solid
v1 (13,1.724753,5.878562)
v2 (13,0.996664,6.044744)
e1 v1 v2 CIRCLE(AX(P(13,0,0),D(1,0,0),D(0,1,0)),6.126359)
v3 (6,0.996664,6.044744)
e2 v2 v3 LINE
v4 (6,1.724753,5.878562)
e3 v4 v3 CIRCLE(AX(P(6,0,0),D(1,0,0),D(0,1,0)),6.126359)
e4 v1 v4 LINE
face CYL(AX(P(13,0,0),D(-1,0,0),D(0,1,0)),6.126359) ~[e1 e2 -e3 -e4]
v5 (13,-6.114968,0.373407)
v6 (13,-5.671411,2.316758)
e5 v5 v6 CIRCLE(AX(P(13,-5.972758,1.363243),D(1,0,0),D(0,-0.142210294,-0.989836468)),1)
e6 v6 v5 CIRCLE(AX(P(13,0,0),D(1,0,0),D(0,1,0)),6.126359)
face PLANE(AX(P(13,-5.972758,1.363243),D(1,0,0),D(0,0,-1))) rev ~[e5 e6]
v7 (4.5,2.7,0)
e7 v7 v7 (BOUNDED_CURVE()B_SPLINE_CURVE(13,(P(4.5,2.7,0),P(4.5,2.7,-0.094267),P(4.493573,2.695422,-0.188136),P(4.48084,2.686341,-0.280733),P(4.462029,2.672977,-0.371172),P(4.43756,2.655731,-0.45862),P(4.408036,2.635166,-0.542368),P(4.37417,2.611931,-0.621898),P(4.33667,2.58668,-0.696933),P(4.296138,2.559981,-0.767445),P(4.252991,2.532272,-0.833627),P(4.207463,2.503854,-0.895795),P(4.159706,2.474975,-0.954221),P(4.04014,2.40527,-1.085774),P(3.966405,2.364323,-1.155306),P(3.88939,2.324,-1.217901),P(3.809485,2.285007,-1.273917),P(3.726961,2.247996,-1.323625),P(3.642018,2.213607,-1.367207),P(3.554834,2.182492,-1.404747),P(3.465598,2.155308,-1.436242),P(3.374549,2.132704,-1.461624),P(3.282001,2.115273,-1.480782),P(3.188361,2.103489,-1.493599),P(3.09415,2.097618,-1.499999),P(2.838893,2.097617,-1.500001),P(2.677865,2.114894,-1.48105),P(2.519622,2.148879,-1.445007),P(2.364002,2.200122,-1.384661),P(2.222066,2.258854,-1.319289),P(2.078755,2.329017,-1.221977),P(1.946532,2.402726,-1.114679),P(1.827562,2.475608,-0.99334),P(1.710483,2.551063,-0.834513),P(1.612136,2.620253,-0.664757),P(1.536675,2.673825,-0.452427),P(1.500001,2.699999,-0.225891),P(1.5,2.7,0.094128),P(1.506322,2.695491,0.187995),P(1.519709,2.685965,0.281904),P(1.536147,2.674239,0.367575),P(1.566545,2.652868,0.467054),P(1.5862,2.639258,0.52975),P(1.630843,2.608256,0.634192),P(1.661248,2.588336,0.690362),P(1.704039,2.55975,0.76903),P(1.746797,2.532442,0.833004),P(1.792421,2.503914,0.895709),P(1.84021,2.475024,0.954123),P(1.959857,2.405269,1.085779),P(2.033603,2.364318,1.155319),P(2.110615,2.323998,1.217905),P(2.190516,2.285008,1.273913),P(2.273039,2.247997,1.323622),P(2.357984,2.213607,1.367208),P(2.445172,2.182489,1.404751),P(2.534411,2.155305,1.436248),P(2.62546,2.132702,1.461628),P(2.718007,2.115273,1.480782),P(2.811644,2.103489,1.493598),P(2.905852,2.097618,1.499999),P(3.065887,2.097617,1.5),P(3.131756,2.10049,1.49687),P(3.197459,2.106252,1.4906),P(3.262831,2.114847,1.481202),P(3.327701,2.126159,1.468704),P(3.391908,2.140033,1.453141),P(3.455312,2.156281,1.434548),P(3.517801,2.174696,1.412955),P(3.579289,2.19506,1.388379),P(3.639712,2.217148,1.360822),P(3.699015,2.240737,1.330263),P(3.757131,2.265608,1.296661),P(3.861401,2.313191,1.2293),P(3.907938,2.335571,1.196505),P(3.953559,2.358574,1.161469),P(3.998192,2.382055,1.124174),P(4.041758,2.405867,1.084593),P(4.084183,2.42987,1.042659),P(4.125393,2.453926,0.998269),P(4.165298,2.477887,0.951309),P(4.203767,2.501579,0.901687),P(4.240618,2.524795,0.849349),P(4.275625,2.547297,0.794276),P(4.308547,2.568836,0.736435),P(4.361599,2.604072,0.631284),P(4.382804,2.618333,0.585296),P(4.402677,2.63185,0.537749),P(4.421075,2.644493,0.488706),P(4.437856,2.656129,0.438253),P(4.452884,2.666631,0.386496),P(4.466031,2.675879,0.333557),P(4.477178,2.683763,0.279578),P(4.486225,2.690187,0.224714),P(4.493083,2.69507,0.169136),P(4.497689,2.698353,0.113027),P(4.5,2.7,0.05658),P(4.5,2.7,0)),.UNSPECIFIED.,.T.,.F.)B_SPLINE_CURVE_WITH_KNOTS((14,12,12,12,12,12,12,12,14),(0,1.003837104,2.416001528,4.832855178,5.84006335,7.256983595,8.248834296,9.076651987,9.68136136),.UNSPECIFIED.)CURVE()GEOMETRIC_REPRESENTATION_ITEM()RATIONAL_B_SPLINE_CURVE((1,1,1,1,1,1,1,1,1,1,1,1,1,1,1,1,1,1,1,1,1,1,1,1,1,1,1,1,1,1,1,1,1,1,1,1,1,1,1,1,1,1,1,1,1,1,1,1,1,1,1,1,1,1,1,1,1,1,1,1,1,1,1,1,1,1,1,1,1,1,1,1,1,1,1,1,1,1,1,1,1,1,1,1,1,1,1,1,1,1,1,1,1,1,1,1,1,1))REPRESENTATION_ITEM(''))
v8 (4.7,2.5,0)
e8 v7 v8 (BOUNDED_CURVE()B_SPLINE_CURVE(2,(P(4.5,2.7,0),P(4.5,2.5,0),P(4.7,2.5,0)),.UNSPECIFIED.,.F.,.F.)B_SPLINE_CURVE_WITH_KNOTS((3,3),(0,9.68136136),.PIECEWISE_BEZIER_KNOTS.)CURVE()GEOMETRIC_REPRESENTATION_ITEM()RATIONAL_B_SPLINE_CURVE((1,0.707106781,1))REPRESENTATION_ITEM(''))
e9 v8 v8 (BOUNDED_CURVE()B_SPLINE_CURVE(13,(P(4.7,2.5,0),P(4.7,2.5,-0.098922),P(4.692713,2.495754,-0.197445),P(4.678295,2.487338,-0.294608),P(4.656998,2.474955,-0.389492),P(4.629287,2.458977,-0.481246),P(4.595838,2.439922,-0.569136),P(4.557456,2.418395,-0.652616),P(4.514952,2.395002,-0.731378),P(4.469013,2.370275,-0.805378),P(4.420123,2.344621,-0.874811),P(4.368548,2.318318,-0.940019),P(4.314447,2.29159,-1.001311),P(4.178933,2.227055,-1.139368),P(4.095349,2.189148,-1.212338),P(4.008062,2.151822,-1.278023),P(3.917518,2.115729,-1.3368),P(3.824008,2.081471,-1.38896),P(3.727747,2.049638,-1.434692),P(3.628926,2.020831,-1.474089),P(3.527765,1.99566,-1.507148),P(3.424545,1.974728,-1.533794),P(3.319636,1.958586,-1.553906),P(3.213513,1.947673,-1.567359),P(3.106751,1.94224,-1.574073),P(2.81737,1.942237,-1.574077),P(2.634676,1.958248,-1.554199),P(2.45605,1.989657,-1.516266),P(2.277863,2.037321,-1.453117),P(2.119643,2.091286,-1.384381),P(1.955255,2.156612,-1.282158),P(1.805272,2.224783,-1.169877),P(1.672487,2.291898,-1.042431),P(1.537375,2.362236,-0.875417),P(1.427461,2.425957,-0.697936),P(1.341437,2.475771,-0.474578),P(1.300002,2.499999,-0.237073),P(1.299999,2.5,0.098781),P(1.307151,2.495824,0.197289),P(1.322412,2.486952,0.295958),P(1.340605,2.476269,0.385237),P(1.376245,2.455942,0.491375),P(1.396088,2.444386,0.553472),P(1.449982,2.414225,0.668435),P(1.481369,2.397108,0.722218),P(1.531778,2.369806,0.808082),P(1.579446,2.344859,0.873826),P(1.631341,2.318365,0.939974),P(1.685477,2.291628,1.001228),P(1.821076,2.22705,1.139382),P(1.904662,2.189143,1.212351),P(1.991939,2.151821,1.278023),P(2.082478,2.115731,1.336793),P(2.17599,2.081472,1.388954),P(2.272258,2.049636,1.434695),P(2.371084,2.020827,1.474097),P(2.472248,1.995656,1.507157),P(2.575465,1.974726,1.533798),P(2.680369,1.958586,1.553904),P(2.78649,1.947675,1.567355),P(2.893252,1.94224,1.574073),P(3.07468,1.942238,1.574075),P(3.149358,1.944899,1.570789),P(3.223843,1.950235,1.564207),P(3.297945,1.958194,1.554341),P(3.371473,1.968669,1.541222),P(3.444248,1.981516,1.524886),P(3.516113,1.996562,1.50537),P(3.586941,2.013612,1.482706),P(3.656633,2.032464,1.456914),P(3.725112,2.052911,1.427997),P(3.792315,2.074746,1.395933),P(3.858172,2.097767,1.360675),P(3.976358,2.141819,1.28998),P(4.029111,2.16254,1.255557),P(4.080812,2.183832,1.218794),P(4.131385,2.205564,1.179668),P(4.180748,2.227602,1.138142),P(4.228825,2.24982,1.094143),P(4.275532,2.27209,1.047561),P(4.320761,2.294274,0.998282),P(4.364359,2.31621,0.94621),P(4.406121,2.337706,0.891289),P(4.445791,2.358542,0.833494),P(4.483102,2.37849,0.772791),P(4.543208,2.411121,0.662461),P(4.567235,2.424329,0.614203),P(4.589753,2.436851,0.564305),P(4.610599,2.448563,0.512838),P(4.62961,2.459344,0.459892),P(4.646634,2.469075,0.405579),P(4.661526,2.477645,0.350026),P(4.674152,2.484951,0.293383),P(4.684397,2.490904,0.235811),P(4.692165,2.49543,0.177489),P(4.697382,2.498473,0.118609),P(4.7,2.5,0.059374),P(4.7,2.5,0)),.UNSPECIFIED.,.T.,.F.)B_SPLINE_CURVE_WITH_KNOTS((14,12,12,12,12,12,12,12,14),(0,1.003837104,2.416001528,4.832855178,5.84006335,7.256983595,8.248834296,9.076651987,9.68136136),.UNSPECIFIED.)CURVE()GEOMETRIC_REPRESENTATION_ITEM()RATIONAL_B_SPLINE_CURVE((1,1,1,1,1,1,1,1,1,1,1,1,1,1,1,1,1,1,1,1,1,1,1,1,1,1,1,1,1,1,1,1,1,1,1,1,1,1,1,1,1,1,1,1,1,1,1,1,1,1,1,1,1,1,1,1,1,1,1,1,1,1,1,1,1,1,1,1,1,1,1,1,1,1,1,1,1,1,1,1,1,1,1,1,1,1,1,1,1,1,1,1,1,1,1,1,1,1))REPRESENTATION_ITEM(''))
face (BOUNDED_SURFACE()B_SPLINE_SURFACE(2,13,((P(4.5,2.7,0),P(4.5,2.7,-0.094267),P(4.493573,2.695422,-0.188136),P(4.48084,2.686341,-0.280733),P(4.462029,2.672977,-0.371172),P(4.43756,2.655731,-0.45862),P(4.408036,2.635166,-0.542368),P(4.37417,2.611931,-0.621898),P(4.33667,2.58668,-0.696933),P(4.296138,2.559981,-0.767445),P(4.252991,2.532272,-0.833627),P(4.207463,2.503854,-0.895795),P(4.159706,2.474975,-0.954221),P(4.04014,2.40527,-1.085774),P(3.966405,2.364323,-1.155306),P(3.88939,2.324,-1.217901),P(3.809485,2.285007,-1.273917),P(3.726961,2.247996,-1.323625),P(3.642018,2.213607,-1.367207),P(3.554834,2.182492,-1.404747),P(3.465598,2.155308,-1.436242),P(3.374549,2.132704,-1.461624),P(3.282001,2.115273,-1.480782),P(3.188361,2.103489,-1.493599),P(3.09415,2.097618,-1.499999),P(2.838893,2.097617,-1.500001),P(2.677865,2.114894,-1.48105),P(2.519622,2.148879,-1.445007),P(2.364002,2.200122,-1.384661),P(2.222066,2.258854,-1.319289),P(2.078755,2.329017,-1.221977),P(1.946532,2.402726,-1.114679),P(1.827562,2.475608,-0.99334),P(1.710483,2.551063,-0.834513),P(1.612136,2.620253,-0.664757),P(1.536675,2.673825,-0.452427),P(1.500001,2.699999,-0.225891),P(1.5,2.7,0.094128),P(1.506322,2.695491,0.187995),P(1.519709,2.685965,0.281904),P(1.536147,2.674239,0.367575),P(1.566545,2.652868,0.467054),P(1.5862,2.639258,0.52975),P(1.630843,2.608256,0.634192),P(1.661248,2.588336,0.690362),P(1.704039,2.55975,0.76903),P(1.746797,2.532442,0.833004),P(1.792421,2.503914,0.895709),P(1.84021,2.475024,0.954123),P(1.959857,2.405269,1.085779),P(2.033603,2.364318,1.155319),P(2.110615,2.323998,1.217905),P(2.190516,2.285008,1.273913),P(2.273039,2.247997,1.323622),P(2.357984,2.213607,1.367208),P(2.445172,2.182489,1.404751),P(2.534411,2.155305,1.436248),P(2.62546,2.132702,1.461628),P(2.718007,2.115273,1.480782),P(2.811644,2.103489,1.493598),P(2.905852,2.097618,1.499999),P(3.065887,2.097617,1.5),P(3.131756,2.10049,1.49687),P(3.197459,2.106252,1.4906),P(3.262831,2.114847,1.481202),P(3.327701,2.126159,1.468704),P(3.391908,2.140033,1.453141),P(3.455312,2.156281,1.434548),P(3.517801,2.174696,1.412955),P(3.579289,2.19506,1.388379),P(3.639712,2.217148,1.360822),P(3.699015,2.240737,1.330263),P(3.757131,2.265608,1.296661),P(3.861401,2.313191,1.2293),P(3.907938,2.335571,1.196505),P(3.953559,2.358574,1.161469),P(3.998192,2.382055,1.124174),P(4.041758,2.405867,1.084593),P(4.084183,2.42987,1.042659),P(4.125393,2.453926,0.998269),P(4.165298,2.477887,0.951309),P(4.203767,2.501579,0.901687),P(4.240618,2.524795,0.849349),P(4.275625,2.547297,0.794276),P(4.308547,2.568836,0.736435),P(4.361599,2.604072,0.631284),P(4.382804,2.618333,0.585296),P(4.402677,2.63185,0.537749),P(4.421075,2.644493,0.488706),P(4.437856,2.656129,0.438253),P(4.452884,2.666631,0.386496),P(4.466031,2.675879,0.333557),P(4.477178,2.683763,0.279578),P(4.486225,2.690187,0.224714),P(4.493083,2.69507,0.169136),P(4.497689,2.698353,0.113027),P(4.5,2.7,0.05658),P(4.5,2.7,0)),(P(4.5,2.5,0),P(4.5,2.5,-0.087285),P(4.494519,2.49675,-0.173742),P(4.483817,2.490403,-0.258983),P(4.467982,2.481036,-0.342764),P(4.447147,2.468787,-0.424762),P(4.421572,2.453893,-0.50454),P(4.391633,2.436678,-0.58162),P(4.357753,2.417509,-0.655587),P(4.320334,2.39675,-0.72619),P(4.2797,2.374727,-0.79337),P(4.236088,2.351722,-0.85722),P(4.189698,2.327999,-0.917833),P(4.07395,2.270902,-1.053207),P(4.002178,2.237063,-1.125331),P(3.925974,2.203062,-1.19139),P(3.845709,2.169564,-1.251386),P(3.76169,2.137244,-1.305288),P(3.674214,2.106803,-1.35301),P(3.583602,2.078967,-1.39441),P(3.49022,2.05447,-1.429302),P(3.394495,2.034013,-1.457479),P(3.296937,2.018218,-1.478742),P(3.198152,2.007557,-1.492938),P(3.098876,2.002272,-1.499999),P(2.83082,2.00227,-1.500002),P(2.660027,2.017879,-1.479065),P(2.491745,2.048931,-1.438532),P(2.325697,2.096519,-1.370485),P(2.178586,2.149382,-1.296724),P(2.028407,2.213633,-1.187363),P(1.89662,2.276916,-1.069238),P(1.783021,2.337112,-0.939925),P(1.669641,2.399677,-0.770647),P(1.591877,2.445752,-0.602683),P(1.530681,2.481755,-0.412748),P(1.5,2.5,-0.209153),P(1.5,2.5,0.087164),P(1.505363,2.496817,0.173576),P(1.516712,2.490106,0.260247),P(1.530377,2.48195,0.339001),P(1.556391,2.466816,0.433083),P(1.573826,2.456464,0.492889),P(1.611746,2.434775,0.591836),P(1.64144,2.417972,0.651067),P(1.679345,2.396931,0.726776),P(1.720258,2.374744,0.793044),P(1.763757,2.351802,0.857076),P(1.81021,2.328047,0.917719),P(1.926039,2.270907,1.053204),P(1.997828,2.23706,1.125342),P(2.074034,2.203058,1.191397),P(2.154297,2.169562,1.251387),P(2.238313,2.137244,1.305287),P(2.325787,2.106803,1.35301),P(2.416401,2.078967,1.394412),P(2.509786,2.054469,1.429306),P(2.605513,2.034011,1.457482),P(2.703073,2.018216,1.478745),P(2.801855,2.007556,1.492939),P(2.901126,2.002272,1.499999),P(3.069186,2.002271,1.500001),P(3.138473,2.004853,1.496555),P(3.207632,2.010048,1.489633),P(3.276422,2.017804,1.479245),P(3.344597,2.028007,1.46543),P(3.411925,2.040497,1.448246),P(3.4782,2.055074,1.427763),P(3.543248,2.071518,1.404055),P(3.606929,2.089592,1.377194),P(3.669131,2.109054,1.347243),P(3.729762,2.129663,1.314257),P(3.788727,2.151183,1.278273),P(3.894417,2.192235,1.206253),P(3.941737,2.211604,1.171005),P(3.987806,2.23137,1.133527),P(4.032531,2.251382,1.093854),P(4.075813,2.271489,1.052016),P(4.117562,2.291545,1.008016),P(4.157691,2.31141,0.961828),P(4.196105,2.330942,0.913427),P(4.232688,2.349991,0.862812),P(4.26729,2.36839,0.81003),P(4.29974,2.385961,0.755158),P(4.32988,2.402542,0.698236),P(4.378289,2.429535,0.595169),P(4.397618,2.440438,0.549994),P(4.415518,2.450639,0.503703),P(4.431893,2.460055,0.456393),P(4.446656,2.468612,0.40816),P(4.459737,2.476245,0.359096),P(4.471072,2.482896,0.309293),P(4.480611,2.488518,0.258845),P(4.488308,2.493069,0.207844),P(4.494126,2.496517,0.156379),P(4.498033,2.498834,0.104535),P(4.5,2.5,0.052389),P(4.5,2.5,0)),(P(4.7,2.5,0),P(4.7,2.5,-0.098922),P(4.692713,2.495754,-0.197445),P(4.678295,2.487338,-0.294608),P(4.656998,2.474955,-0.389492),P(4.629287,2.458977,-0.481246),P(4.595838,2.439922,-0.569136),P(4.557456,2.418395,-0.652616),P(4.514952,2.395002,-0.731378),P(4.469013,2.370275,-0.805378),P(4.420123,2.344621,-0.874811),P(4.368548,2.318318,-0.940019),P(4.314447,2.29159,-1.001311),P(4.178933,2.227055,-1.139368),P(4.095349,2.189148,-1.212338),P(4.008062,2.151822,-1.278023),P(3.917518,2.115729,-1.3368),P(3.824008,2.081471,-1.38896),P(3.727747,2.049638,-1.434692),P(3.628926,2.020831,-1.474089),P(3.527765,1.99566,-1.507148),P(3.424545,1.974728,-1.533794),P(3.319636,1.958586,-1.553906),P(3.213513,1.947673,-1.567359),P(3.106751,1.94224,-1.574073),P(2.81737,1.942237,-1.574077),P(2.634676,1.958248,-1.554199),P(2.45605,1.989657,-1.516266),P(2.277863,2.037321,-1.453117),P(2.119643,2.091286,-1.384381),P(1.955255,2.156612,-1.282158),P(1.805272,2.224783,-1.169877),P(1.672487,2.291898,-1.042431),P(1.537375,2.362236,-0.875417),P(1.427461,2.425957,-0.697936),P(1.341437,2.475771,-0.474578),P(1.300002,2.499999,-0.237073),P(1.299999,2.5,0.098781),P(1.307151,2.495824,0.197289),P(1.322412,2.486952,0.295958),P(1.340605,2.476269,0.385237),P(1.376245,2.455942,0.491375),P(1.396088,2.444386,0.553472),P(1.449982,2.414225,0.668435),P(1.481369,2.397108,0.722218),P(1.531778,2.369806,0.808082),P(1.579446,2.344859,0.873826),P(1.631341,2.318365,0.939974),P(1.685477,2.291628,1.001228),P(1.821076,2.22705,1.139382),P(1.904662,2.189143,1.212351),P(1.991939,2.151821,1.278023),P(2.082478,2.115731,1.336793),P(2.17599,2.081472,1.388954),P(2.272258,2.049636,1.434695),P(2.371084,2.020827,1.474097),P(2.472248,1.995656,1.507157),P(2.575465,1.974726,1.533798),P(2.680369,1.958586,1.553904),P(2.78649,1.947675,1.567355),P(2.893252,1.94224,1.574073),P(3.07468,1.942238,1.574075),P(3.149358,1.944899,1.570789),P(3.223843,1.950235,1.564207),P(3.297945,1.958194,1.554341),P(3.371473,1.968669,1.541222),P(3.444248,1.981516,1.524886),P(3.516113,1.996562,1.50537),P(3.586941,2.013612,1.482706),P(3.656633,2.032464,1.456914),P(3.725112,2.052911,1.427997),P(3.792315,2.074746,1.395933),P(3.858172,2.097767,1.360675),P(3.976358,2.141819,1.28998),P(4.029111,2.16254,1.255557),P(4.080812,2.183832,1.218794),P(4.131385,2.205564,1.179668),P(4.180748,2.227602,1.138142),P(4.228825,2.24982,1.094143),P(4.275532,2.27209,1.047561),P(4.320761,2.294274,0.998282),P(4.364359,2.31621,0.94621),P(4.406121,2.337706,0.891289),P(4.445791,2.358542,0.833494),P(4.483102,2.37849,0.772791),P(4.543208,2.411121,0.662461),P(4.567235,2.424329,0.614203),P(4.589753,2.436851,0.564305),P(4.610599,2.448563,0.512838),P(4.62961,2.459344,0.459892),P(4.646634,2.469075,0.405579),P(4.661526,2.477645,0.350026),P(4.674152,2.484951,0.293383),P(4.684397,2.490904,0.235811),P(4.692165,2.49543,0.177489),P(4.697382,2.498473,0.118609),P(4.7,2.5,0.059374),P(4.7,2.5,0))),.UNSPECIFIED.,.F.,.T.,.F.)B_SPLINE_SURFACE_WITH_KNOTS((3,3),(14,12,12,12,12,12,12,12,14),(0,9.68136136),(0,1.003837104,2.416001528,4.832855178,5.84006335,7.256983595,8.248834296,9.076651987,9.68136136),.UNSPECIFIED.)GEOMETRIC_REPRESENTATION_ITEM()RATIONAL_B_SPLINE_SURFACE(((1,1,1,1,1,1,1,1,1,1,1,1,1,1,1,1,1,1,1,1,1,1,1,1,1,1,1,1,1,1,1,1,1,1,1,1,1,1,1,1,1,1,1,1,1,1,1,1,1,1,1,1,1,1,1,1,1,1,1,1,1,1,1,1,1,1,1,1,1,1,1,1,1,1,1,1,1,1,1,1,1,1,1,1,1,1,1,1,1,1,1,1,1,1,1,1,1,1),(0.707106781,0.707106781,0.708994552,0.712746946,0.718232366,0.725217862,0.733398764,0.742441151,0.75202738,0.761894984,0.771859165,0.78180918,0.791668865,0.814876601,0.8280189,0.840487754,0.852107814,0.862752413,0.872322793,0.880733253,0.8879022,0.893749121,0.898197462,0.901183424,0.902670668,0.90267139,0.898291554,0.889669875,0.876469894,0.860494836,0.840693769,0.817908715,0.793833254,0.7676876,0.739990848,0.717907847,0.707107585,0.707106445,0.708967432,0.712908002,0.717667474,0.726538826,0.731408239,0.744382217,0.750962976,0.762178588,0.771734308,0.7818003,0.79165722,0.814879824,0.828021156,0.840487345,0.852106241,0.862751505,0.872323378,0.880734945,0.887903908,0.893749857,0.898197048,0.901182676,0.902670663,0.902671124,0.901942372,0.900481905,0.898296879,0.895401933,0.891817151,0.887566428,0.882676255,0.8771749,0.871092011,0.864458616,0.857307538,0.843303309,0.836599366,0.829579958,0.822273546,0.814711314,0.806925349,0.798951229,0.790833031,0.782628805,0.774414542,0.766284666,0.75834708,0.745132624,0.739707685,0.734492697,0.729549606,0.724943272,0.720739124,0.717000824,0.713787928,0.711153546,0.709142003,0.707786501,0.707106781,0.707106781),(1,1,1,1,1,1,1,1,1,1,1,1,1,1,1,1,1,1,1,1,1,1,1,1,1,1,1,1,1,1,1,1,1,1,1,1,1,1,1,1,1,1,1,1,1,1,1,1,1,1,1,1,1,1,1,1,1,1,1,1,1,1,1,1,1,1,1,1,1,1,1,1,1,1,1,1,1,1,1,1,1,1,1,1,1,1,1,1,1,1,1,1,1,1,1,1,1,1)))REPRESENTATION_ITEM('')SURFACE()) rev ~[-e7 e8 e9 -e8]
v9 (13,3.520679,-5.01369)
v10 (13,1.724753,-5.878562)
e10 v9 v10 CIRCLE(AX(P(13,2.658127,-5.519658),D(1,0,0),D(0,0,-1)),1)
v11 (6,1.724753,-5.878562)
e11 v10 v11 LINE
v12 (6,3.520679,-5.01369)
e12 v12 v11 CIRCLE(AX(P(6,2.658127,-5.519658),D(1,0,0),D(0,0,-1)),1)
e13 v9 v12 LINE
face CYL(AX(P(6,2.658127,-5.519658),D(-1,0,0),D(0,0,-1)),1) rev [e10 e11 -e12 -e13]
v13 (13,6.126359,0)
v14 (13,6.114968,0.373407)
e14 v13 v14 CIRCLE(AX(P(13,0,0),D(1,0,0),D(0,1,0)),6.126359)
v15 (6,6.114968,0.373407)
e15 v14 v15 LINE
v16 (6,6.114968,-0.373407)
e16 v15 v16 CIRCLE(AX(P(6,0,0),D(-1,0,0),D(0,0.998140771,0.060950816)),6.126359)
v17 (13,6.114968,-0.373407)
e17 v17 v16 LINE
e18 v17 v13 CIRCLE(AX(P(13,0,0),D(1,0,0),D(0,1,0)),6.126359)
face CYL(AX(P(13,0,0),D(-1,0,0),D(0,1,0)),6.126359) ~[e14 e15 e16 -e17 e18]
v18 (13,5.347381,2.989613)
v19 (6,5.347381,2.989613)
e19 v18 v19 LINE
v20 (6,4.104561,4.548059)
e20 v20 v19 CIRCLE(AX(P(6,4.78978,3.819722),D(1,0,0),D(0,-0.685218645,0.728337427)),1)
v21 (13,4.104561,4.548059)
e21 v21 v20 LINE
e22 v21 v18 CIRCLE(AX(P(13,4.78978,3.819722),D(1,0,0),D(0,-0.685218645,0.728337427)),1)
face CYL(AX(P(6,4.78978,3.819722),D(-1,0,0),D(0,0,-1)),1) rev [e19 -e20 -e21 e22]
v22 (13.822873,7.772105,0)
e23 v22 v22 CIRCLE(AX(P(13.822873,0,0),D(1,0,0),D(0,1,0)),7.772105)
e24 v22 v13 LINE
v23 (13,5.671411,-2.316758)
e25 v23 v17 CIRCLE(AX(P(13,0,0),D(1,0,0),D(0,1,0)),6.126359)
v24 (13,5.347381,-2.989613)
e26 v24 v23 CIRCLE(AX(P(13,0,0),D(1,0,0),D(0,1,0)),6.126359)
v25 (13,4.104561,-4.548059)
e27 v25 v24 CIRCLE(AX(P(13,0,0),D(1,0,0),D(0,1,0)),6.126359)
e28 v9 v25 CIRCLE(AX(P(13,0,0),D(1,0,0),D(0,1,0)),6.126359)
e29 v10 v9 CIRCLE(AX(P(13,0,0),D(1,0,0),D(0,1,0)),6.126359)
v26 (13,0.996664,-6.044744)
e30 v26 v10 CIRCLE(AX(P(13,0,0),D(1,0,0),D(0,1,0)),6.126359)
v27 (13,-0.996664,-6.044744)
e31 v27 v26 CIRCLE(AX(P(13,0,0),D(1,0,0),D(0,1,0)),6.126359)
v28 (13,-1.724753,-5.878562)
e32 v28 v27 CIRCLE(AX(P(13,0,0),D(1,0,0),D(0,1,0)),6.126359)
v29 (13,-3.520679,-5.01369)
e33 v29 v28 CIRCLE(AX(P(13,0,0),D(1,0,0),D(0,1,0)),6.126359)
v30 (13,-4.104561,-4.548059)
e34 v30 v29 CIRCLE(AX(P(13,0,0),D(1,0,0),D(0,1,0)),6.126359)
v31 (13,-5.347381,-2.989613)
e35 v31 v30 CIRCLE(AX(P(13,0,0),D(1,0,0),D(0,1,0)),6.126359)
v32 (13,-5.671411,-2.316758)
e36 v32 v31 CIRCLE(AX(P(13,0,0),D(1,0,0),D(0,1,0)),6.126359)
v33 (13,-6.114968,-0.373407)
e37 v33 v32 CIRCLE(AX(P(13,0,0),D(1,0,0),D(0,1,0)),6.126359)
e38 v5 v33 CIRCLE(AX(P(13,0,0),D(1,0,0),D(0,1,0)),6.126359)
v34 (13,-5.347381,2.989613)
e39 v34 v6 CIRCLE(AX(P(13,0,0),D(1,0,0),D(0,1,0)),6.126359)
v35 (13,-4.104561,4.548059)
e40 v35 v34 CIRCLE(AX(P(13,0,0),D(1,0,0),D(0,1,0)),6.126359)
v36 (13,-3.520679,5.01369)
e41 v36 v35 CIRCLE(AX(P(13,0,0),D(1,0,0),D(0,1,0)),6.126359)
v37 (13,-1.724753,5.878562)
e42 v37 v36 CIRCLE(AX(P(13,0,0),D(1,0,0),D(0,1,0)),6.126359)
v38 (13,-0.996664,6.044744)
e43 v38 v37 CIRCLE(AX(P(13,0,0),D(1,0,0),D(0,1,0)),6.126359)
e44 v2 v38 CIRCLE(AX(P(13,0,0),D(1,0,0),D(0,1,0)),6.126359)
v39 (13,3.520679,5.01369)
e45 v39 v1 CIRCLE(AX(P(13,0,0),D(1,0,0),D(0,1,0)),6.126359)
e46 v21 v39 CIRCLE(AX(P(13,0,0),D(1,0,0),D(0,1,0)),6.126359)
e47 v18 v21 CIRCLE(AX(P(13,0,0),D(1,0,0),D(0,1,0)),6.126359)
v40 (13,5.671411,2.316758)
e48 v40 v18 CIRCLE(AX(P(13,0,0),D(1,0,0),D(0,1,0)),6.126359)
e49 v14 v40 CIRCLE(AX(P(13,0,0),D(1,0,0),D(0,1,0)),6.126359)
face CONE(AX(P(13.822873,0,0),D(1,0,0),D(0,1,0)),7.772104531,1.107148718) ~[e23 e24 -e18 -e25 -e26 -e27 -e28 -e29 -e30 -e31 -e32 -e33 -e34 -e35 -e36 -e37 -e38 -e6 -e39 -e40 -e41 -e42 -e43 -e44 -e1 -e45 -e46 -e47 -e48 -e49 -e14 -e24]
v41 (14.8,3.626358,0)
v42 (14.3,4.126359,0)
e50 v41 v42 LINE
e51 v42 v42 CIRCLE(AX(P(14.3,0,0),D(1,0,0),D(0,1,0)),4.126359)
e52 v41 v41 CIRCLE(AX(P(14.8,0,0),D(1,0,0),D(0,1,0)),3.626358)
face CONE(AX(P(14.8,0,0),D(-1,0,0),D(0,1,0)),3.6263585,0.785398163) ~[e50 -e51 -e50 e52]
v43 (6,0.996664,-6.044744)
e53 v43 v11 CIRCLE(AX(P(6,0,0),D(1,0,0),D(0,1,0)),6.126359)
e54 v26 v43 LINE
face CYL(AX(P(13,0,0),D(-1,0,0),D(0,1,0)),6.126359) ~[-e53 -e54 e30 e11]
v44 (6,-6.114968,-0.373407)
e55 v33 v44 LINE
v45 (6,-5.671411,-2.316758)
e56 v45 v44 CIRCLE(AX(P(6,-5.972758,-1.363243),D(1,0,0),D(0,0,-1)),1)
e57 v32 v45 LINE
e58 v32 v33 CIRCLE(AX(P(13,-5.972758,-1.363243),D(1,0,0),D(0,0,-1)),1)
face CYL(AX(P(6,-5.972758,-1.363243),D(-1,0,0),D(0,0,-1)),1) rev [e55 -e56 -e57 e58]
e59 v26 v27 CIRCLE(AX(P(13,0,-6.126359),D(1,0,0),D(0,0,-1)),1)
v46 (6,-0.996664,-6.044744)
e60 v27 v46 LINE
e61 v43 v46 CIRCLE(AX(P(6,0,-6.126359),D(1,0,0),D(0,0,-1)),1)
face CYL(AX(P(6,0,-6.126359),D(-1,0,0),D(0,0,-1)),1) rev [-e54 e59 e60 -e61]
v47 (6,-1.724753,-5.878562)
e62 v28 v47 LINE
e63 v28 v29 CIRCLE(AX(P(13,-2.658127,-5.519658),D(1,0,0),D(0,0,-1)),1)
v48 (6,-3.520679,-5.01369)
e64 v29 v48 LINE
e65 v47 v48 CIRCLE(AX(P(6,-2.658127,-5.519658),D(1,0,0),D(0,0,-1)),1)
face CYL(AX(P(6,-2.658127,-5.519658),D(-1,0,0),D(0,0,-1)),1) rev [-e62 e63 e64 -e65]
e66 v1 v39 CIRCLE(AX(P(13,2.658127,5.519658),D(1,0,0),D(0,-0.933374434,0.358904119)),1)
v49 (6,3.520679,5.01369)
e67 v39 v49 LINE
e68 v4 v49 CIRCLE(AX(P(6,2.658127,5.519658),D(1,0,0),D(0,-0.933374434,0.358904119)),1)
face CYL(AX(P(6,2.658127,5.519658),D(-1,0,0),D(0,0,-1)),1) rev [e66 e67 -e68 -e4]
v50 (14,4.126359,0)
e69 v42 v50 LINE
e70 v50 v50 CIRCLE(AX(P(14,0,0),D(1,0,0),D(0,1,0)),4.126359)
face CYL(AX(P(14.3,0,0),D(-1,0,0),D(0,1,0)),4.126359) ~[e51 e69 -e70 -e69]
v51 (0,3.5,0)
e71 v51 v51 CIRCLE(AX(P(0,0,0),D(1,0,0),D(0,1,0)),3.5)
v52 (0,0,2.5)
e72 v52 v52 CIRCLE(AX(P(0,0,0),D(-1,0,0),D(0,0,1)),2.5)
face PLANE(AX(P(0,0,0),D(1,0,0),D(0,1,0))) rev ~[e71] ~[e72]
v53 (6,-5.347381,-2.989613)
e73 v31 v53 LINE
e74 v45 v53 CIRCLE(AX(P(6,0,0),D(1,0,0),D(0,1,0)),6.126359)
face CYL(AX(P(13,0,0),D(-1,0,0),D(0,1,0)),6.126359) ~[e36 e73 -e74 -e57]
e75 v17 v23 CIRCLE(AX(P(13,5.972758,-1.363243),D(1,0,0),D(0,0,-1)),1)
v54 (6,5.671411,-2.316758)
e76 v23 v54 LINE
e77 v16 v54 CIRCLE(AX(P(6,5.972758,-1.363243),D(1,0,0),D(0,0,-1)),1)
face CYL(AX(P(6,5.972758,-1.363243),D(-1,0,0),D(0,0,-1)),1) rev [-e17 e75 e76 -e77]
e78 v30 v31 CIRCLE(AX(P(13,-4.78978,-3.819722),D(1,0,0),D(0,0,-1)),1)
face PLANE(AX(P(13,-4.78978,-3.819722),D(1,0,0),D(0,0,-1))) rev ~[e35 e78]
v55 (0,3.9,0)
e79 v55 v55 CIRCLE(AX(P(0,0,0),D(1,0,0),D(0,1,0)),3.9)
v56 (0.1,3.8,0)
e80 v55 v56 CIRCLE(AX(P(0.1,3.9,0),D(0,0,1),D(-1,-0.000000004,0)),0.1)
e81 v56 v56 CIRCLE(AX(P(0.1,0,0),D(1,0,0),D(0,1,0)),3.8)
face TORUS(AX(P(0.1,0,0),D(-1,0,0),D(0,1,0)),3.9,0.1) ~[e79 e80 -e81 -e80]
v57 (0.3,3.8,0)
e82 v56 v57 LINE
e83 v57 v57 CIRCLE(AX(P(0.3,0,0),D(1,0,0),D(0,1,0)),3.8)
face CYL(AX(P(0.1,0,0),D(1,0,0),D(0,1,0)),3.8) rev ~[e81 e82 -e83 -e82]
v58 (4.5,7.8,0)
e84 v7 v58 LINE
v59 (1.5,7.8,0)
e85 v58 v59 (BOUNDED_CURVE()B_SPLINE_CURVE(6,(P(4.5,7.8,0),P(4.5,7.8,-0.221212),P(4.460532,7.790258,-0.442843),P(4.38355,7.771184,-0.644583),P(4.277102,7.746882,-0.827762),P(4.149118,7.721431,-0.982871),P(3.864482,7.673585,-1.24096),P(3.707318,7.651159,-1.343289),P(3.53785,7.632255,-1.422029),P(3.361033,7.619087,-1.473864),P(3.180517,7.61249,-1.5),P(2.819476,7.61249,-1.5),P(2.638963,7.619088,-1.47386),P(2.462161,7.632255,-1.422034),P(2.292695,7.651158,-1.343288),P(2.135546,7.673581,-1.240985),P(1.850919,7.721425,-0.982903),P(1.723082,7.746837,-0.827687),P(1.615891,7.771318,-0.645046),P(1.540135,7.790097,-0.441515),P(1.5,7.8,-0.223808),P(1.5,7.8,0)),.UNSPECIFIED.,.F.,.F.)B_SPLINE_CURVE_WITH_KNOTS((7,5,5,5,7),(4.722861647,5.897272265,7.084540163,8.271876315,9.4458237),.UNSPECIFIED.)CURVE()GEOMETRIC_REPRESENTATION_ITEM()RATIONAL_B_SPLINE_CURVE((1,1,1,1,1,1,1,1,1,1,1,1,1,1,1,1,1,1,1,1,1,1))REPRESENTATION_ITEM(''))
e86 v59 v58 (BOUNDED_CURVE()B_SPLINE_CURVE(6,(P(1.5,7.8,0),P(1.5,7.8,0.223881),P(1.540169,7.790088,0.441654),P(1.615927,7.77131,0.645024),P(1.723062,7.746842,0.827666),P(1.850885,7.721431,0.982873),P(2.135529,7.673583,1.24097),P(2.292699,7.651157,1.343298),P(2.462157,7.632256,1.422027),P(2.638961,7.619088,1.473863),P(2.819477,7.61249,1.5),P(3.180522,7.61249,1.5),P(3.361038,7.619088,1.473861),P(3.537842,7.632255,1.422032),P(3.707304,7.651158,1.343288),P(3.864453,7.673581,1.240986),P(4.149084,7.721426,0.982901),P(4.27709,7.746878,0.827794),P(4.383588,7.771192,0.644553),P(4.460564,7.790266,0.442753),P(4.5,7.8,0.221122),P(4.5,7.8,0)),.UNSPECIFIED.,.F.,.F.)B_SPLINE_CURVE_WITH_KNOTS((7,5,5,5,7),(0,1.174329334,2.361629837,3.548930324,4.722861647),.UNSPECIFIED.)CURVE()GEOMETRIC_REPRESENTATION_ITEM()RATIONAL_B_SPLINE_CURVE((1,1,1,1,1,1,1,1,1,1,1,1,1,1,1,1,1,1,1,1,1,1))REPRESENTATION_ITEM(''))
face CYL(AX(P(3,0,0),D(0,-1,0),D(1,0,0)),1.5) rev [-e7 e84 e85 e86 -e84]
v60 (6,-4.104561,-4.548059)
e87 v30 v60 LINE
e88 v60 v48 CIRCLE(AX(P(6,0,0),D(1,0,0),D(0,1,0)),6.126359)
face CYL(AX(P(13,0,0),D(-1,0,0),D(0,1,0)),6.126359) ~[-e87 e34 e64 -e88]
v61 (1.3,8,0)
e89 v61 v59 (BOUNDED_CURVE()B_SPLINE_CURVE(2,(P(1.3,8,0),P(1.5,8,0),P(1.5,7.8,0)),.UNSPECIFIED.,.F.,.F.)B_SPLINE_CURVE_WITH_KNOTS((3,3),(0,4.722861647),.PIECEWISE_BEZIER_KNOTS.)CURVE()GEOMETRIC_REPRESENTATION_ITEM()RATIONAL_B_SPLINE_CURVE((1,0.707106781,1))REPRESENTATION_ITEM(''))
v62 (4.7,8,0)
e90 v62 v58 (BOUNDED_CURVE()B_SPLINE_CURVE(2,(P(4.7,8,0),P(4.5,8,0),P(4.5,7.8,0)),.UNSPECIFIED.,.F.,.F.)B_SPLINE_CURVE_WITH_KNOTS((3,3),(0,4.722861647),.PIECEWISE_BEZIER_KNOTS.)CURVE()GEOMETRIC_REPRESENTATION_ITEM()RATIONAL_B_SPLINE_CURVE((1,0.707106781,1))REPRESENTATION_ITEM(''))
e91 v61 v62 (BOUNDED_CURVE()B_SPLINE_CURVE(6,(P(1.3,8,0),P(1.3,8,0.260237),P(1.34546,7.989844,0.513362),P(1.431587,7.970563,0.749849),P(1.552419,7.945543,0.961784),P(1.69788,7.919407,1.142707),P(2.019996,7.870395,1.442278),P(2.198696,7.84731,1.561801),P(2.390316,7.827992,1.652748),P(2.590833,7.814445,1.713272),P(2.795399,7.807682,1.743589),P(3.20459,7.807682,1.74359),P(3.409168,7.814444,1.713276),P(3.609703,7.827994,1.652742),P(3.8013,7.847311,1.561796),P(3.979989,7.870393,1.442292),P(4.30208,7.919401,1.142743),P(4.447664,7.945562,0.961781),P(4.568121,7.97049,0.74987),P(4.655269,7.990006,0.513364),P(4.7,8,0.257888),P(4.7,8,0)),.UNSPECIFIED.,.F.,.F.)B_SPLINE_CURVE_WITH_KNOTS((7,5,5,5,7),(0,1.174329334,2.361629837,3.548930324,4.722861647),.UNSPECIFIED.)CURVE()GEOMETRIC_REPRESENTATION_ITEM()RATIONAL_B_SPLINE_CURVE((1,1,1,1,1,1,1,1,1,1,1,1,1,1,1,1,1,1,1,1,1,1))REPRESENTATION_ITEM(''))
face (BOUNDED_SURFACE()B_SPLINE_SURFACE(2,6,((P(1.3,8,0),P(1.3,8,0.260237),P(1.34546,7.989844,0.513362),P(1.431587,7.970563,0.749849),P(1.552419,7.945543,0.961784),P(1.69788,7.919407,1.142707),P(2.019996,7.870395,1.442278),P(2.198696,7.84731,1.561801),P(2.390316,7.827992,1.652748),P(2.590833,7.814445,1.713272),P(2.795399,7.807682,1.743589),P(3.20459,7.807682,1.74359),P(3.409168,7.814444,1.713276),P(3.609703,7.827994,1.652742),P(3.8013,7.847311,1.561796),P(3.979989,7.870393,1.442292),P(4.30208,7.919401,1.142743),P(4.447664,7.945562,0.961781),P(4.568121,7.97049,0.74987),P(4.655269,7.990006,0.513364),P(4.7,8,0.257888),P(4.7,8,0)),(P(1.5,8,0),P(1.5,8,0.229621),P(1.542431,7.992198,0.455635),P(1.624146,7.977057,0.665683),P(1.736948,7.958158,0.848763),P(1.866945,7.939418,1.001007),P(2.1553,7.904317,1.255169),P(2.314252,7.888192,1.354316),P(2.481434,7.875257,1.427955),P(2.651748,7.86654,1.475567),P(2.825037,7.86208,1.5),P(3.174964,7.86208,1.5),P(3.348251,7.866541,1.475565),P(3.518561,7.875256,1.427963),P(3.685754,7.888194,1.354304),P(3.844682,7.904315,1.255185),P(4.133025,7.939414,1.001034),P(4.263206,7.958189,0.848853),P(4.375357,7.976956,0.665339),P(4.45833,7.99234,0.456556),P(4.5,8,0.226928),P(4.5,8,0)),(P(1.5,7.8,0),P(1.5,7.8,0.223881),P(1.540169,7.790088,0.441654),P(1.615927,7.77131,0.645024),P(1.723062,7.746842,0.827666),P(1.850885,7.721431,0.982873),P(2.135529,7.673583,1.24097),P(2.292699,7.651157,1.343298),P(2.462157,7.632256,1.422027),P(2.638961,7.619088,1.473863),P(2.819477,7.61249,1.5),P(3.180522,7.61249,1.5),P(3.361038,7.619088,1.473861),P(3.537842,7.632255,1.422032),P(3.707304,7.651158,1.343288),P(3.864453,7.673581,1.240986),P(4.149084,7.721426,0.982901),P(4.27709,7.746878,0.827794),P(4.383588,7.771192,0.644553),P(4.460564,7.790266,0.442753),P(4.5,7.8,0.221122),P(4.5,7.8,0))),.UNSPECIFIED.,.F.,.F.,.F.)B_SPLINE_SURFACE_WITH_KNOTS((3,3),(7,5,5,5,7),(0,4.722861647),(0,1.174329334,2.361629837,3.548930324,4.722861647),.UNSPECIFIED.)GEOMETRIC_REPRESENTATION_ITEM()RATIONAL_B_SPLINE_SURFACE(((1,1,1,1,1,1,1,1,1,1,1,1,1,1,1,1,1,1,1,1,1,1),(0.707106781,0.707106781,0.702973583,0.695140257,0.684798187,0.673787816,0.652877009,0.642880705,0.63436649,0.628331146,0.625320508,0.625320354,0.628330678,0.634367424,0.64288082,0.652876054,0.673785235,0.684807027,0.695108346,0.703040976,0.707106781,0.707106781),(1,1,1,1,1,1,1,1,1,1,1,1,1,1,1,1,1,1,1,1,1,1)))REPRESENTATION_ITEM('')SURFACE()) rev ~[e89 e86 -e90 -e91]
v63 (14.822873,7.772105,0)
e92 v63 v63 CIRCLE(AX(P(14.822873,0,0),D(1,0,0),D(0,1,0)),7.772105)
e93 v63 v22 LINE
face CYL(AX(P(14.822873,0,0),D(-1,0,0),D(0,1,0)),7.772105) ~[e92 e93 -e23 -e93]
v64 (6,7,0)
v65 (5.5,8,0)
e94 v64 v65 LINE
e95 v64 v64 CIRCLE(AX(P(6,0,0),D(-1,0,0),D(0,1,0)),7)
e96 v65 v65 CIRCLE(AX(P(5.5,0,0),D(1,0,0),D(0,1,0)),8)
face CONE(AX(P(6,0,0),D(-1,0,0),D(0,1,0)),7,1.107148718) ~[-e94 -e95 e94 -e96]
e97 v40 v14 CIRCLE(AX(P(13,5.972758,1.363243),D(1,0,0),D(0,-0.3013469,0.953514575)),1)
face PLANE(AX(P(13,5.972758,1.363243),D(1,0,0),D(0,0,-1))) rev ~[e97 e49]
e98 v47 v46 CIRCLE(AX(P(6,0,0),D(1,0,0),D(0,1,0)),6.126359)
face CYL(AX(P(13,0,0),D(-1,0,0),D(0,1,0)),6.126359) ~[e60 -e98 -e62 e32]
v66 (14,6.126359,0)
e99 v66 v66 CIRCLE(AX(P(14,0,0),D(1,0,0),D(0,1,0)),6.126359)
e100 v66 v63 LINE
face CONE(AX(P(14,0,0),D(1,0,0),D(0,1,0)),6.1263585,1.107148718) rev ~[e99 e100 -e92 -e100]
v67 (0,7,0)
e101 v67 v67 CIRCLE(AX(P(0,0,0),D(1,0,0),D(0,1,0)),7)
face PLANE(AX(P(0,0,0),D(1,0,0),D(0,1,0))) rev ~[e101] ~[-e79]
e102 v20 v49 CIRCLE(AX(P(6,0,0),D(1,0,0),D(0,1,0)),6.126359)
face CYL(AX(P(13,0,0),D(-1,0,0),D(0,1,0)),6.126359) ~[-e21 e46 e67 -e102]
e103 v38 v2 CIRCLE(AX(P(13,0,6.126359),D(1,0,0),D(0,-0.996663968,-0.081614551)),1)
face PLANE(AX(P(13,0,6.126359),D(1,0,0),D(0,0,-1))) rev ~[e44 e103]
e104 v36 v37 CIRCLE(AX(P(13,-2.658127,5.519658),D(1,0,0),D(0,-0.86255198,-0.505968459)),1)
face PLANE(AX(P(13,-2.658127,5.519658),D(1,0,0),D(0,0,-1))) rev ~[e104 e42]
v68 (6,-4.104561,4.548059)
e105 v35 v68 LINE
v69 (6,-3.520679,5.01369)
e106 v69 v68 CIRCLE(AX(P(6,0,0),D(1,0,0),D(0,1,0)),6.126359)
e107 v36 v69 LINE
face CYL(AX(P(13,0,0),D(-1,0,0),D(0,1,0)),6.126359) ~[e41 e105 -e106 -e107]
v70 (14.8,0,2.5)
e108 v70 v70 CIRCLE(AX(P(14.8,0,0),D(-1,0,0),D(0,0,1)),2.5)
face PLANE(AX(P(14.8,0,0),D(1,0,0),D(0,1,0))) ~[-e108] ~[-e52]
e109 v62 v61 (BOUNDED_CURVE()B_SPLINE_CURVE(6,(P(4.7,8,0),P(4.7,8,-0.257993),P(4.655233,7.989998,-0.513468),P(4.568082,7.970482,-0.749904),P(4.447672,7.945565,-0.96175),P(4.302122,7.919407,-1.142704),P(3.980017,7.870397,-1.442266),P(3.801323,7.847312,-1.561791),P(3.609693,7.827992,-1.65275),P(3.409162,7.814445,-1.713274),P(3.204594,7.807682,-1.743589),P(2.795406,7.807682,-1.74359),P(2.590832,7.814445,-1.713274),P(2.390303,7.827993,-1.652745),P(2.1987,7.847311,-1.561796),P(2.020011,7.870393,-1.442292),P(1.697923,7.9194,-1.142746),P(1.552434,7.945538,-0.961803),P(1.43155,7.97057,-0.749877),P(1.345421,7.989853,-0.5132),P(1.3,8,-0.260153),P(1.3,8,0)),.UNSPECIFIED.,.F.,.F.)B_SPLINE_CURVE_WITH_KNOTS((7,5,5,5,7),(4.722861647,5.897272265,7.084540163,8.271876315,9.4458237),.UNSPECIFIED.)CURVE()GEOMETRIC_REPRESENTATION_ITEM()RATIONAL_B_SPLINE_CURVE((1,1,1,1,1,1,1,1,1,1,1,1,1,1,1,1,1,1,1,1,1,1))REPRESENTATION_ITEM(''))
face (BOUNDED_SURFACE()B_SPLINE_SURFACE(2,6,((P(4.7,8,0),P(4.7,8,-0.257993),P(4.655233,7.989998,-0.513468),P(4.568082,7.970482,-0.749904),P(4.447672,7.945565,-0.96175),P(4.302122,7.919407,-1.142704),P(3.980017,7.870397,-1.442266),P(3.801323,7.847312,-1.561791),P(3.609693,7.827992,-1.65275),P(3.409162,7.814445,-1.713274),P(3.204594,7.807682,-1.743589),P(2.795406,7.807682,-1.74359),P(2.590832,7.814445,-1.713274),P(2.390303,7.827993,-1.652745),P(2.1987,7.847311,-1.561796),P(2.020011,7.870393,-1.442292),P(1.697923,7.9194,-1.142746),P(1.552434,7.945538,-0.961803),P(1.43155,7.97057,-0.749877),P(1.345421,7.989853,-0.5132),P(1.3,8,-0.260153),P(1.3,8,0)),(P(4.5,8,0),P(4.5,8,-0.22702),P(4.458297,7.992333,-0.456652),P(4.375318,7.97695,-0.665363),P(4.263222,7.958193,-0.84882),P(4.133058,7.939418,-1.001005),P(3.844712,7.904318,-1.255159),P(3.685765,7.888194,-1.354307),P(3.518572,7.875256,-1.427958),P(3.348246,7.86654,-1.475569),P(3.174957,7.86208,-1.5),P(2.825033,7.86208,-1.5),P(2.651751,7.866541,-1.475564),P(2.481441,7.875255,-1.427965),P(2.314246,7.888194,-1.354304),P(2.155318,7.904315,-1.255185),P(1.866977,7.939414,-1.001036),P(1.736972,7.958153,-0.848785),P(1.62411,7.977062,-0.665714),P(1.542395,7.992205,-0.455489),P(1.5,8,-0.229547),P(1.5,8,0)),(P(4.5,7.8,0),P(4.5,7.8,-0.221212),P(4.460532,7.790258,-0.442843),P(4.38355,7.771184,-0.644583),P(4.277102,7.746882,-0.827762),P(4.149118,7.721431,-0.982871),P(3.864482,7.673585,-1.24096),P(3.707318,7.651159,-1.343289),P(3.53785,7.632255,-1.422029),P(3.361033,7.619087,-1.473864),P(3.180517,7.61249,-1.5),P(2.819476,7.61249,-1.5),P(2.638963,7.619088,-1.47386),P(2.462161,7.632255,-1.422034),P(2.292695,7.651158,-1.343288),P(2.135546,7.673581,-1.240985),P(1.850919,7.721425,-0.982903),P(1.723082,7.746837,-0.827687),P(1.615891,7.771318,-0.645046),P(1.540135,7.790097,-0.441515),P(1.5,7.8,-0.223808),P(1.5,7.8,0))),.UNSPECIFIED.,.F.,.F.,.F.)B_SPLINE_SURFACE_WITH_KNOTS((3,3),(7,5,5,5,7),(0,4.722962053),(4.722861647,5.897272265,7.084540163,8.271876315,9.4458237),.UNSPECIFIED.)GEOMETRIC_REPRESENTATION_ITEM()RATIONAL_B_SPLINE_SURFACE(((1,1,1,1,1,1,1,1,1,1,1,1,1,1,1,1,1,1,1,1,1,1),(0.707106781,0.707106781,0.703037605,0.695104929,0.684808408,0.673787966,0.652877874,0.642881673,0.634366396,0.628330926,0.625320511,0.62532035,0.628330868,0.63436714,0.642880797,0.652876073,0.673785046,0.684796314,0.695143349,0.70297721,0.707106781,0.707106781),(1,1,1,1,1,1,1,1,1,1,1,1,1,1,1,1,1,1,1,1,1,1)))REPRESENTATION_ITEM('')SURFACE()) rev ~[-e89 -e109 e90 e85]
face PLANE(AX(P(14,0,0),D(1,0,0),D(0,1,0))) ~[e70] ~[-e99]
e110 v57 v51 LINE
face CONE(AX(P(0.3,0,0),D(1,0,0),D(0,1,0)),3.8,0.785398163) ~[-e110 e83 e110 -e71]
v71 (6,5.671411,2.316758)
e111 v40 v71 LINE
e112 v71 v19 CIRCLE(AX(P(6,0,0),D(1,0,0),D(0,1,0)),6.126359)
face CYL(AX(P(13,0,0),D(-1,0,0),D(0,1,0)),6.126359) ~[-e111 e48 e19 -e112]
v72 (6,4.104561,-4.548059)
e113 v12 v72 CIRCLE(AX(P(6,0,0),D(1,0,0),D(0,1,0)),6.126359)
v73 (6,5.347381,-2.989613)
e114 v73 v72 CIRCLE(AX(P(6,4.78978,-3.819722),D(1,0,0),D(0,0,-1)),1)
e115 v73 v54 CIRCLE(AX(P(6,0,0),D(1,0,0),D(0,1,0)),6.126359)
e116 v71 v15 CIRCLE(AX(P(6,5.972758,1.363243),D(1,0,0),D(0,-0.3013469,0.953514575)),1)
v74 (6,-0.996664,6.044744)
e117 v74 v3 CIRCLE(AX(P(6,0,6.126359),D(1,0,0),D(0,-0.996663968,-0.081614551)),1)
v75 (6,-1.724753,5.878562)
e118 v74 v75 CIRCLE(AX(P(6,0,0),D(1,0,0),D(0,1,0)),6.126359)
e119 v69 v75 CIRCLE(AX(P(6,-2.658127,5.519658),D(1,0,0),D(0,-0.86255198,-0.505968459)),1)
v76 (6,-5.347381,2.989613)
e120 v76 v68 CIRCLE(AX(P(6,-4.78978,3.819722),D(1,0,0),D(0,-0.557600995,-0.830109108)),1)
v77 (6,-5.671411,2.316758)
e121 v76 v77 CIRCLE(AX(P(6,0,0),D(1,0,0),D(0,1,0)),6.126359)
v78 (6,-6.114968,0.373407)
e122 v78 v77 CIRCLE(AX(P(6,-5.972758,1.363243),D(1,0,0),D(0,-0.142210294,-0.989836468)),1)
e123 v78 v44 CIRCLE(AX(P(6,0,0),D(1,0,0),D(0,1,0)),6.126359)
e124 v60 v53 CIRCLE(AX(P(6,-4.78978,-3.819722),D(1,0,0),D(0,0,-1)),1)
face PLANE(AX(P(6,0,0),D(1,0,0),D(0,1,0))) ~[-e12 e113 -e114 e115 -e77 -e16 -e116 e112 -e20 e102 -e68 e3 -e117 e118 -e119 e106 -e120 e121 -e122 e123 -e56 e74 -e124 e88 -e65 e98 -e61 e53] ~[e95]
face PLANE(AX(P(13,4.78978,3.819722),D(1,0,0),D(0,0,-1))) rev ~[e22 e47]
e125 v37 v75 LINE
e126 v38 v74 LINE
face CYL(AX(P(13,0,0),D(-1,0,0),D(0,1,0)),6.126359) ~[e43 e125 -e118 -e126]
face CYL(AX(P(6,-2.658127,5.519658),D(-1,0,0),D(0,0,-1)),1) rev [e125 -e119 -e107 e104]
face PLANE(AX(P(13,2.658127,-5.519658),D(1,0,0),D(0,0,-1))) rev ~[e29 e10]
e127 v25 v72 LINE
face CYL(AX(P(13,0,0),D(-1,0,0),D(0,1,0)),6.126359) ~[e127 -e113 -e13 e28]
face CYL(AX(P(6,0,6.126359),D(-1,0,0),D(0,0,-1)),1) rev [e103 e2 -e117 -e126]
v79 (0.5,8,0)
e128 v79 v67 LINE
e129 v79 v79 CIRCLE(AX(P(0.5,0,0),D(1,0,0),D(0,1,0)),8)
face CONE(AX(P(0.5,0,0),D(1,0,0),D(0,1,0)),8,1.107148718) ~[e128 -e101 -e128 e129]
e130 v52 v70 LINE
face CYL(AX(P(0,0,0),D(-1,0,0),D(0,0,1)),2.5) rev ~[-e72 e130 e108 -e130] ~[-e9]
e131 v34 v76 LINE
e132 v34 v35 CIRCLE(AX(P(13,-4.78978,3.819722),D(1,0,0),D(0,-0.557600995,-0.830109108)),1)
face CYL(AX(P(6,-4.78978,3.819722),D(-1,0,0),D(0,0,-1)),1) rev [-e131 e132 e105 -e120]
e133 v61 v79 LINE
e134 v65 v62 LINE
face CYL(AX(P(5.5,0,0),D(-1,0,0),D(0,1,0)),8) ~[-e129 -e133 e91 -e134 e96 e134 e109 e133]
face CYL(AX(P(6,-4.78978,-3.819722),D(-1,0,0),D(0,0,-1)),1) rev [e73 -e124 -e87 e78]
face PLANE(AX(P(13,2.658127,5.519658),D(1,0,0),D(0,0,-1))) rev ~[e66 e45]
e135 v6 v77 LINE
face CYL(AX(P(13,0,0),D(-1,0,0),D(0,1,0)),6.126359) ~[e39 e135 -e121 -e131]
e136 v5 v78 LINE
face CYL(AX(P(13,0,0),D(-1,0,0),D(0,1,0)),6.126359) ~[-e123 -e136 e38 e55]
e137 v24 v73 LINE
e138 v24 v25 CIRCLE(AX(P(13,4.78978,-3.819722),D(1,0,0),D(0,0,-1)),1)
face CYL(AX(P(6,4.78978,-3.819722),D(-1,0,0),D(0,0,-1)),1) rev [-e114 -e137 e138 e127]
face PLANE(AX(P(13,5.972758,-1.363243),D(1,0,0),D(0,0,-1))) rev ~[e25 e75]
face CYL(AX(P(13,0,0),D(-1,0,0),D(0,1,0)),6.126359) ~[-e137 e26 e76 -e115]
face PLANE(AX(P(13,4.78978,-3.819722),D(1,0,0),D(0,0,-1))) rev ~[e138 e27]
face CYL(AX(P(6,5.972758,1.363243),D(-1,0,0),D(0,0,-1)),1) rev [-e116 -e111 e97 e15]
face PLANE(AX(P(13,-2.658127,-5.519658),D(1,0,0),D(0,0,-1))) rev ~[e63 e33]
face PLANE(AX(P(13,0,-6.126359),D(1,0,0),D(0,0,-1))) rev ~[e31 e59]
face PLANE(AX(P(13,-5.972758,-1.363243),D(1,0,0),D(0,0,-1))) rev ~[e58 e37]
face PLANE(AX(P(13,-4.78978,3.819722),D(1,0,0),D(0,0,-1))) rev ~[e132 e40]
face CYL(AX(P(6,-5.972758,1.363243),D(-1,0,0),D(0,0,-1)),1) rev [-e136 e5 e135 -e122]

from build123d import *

# Parameters (mm, degrees)
IZIM2_R               = 2.5
KES_EKSTR_ZYON1_DEPTH = 15.822873016
IZIM3_R               = 1
KES_EKSTR_ZYON3_DEPTH = 7
IZIM4_R               = 1.5
KES_EKSTR_ZYON4_DEPTH = 27
RADYUS1_R             = 0.2


with BuildPart() as part:
    # Çizim1 → Döndür1 (revolve)
    with BuildSketch(Plane.XY):
        with BuildLine():
            Line((0, 7), (0, 3.9))
            ThreePointArc((0, 3.9), (0.029289322, 3.829289322), (0.1, 3.8))
            Line((0.1, 3.8), (0.3, 3.8))
            Line((0.3, 3.8), (0, 3.5))
            Line((0, 3.5), (0, 0))
            Line((0, 0), (14.8, 0))
            Line((14.8, 0), (14.8, 1.887324991))
            Line((14.8, 1.887324991), (14.8, 3.6263585))
            Line((14.8, 3.6263585), (14.3, 4.1263585))
            Line((14.3, 4.1263585), (14, 4.1263585))
            Line((14, 4.1263585), (14, 6.1263585))
            Line((14, 6.1263585), (14.822873016, 7.772104531))
            Line((14.822873016, 7.772104531), (13.822873016, 7.772104531))
            Line((13.822873016, 7.772104531), (13, 6.1263585))
            Line((13, 6.1263585), (6, 6.1263585))
            Line((6, 6.1263585), (6, 7))
            Line((6, 7), (5.5, 8))
            Line((5.5, 8), (0.5, 8))
            Line((0.5, 8), (0, 7))
        make_face()
    revolve(axis=Axis((0, 0, 0), (1, 0, 0)))

    # Çizim2 → Kes-Ekstrüzyon1 (cut, through all)
    with BuildSketch(Plane.ZY):
        Circle(IZIM2_R)
    extrude(amount=-KES_EKSTR_ZYON1_DEPTH, mode=Mode.SUBTRACT)

    # Çizim3 → Kes-Ekstrüzyon3 (cut)
    with BuildSketch(Plane(origin=(6, 0, 0), x_dir=(0, 0, -1), z_dir=(1, 0, 0))):
        with Locations((6.1263585, 0)):
            Circle(IZIM3_R)
        with Locations((5.519658282, -2.658127333)):
            Circle(IZIM3_R)
        with Locations((3.819722047, -4.789779948)):
            Circle(IZIM3_R)
        with Locations((1.363243015, -5.972757901)):
            Circle(IZIM3_R)
        with Locations((-1.363243015, -5.972757901)):
            Circle(IZIM3_R)
        with Locations((-3.819722047, -4.789779948)):
            Circle(IZIM3_R)
        with Locations((-5.519658282, -2.658127333)):
            Circle(IZIM3_R)
        with Locations((-6.1263585, 0)):
            Circle(IZIM3_R)
        with Locations((-5.519658282, 2.658127333)):
            Circle(IZIM3_R)
        with Locations((-3.819722047, 4.789779948)):
            Circle(IZIM3_R)
        with Locations((-1.363243015, 5.972757901)):
            Circle(IZIM3_R)
        with Locations((1.363243015, 5.972757901)):
            Circle(IZIM3_R)
        with Locations((3.819722047, 4.789779948)):
            Circle(IZIM3_R)
        with Locations((5.519658282, 2.658127333)):
            Circle(IZIM3_R)
    extrude(amount=KES_EKSTR_ZYON3_DEPTH, mode=Mode.SUBTRACT)

    # Çizim4 → Kes-Ekstrüzyon4 (cut)
    with BuildSketch(Plane(origin=(0, 0, 0), x_dir=(1, 0, 0), z_dir=(0, 1, 0))):
        with Locations((3, 0)):
            Circle(IZIM4_R)
    extrude(amount=KES_EKSTR_ZYON4_DEPTH, mode=Mode.SUBTRACT)

    # Radyus1
    radyus1_edges = [part.edges().sort_by_distance(p)[0] for p in [
        (3, 7.858116823, 1.5),
        (1.5, 2.5, 0),
    ]]
    fillet(radyus1_edges, radius=RADYUS1_R)


solid = part.part
